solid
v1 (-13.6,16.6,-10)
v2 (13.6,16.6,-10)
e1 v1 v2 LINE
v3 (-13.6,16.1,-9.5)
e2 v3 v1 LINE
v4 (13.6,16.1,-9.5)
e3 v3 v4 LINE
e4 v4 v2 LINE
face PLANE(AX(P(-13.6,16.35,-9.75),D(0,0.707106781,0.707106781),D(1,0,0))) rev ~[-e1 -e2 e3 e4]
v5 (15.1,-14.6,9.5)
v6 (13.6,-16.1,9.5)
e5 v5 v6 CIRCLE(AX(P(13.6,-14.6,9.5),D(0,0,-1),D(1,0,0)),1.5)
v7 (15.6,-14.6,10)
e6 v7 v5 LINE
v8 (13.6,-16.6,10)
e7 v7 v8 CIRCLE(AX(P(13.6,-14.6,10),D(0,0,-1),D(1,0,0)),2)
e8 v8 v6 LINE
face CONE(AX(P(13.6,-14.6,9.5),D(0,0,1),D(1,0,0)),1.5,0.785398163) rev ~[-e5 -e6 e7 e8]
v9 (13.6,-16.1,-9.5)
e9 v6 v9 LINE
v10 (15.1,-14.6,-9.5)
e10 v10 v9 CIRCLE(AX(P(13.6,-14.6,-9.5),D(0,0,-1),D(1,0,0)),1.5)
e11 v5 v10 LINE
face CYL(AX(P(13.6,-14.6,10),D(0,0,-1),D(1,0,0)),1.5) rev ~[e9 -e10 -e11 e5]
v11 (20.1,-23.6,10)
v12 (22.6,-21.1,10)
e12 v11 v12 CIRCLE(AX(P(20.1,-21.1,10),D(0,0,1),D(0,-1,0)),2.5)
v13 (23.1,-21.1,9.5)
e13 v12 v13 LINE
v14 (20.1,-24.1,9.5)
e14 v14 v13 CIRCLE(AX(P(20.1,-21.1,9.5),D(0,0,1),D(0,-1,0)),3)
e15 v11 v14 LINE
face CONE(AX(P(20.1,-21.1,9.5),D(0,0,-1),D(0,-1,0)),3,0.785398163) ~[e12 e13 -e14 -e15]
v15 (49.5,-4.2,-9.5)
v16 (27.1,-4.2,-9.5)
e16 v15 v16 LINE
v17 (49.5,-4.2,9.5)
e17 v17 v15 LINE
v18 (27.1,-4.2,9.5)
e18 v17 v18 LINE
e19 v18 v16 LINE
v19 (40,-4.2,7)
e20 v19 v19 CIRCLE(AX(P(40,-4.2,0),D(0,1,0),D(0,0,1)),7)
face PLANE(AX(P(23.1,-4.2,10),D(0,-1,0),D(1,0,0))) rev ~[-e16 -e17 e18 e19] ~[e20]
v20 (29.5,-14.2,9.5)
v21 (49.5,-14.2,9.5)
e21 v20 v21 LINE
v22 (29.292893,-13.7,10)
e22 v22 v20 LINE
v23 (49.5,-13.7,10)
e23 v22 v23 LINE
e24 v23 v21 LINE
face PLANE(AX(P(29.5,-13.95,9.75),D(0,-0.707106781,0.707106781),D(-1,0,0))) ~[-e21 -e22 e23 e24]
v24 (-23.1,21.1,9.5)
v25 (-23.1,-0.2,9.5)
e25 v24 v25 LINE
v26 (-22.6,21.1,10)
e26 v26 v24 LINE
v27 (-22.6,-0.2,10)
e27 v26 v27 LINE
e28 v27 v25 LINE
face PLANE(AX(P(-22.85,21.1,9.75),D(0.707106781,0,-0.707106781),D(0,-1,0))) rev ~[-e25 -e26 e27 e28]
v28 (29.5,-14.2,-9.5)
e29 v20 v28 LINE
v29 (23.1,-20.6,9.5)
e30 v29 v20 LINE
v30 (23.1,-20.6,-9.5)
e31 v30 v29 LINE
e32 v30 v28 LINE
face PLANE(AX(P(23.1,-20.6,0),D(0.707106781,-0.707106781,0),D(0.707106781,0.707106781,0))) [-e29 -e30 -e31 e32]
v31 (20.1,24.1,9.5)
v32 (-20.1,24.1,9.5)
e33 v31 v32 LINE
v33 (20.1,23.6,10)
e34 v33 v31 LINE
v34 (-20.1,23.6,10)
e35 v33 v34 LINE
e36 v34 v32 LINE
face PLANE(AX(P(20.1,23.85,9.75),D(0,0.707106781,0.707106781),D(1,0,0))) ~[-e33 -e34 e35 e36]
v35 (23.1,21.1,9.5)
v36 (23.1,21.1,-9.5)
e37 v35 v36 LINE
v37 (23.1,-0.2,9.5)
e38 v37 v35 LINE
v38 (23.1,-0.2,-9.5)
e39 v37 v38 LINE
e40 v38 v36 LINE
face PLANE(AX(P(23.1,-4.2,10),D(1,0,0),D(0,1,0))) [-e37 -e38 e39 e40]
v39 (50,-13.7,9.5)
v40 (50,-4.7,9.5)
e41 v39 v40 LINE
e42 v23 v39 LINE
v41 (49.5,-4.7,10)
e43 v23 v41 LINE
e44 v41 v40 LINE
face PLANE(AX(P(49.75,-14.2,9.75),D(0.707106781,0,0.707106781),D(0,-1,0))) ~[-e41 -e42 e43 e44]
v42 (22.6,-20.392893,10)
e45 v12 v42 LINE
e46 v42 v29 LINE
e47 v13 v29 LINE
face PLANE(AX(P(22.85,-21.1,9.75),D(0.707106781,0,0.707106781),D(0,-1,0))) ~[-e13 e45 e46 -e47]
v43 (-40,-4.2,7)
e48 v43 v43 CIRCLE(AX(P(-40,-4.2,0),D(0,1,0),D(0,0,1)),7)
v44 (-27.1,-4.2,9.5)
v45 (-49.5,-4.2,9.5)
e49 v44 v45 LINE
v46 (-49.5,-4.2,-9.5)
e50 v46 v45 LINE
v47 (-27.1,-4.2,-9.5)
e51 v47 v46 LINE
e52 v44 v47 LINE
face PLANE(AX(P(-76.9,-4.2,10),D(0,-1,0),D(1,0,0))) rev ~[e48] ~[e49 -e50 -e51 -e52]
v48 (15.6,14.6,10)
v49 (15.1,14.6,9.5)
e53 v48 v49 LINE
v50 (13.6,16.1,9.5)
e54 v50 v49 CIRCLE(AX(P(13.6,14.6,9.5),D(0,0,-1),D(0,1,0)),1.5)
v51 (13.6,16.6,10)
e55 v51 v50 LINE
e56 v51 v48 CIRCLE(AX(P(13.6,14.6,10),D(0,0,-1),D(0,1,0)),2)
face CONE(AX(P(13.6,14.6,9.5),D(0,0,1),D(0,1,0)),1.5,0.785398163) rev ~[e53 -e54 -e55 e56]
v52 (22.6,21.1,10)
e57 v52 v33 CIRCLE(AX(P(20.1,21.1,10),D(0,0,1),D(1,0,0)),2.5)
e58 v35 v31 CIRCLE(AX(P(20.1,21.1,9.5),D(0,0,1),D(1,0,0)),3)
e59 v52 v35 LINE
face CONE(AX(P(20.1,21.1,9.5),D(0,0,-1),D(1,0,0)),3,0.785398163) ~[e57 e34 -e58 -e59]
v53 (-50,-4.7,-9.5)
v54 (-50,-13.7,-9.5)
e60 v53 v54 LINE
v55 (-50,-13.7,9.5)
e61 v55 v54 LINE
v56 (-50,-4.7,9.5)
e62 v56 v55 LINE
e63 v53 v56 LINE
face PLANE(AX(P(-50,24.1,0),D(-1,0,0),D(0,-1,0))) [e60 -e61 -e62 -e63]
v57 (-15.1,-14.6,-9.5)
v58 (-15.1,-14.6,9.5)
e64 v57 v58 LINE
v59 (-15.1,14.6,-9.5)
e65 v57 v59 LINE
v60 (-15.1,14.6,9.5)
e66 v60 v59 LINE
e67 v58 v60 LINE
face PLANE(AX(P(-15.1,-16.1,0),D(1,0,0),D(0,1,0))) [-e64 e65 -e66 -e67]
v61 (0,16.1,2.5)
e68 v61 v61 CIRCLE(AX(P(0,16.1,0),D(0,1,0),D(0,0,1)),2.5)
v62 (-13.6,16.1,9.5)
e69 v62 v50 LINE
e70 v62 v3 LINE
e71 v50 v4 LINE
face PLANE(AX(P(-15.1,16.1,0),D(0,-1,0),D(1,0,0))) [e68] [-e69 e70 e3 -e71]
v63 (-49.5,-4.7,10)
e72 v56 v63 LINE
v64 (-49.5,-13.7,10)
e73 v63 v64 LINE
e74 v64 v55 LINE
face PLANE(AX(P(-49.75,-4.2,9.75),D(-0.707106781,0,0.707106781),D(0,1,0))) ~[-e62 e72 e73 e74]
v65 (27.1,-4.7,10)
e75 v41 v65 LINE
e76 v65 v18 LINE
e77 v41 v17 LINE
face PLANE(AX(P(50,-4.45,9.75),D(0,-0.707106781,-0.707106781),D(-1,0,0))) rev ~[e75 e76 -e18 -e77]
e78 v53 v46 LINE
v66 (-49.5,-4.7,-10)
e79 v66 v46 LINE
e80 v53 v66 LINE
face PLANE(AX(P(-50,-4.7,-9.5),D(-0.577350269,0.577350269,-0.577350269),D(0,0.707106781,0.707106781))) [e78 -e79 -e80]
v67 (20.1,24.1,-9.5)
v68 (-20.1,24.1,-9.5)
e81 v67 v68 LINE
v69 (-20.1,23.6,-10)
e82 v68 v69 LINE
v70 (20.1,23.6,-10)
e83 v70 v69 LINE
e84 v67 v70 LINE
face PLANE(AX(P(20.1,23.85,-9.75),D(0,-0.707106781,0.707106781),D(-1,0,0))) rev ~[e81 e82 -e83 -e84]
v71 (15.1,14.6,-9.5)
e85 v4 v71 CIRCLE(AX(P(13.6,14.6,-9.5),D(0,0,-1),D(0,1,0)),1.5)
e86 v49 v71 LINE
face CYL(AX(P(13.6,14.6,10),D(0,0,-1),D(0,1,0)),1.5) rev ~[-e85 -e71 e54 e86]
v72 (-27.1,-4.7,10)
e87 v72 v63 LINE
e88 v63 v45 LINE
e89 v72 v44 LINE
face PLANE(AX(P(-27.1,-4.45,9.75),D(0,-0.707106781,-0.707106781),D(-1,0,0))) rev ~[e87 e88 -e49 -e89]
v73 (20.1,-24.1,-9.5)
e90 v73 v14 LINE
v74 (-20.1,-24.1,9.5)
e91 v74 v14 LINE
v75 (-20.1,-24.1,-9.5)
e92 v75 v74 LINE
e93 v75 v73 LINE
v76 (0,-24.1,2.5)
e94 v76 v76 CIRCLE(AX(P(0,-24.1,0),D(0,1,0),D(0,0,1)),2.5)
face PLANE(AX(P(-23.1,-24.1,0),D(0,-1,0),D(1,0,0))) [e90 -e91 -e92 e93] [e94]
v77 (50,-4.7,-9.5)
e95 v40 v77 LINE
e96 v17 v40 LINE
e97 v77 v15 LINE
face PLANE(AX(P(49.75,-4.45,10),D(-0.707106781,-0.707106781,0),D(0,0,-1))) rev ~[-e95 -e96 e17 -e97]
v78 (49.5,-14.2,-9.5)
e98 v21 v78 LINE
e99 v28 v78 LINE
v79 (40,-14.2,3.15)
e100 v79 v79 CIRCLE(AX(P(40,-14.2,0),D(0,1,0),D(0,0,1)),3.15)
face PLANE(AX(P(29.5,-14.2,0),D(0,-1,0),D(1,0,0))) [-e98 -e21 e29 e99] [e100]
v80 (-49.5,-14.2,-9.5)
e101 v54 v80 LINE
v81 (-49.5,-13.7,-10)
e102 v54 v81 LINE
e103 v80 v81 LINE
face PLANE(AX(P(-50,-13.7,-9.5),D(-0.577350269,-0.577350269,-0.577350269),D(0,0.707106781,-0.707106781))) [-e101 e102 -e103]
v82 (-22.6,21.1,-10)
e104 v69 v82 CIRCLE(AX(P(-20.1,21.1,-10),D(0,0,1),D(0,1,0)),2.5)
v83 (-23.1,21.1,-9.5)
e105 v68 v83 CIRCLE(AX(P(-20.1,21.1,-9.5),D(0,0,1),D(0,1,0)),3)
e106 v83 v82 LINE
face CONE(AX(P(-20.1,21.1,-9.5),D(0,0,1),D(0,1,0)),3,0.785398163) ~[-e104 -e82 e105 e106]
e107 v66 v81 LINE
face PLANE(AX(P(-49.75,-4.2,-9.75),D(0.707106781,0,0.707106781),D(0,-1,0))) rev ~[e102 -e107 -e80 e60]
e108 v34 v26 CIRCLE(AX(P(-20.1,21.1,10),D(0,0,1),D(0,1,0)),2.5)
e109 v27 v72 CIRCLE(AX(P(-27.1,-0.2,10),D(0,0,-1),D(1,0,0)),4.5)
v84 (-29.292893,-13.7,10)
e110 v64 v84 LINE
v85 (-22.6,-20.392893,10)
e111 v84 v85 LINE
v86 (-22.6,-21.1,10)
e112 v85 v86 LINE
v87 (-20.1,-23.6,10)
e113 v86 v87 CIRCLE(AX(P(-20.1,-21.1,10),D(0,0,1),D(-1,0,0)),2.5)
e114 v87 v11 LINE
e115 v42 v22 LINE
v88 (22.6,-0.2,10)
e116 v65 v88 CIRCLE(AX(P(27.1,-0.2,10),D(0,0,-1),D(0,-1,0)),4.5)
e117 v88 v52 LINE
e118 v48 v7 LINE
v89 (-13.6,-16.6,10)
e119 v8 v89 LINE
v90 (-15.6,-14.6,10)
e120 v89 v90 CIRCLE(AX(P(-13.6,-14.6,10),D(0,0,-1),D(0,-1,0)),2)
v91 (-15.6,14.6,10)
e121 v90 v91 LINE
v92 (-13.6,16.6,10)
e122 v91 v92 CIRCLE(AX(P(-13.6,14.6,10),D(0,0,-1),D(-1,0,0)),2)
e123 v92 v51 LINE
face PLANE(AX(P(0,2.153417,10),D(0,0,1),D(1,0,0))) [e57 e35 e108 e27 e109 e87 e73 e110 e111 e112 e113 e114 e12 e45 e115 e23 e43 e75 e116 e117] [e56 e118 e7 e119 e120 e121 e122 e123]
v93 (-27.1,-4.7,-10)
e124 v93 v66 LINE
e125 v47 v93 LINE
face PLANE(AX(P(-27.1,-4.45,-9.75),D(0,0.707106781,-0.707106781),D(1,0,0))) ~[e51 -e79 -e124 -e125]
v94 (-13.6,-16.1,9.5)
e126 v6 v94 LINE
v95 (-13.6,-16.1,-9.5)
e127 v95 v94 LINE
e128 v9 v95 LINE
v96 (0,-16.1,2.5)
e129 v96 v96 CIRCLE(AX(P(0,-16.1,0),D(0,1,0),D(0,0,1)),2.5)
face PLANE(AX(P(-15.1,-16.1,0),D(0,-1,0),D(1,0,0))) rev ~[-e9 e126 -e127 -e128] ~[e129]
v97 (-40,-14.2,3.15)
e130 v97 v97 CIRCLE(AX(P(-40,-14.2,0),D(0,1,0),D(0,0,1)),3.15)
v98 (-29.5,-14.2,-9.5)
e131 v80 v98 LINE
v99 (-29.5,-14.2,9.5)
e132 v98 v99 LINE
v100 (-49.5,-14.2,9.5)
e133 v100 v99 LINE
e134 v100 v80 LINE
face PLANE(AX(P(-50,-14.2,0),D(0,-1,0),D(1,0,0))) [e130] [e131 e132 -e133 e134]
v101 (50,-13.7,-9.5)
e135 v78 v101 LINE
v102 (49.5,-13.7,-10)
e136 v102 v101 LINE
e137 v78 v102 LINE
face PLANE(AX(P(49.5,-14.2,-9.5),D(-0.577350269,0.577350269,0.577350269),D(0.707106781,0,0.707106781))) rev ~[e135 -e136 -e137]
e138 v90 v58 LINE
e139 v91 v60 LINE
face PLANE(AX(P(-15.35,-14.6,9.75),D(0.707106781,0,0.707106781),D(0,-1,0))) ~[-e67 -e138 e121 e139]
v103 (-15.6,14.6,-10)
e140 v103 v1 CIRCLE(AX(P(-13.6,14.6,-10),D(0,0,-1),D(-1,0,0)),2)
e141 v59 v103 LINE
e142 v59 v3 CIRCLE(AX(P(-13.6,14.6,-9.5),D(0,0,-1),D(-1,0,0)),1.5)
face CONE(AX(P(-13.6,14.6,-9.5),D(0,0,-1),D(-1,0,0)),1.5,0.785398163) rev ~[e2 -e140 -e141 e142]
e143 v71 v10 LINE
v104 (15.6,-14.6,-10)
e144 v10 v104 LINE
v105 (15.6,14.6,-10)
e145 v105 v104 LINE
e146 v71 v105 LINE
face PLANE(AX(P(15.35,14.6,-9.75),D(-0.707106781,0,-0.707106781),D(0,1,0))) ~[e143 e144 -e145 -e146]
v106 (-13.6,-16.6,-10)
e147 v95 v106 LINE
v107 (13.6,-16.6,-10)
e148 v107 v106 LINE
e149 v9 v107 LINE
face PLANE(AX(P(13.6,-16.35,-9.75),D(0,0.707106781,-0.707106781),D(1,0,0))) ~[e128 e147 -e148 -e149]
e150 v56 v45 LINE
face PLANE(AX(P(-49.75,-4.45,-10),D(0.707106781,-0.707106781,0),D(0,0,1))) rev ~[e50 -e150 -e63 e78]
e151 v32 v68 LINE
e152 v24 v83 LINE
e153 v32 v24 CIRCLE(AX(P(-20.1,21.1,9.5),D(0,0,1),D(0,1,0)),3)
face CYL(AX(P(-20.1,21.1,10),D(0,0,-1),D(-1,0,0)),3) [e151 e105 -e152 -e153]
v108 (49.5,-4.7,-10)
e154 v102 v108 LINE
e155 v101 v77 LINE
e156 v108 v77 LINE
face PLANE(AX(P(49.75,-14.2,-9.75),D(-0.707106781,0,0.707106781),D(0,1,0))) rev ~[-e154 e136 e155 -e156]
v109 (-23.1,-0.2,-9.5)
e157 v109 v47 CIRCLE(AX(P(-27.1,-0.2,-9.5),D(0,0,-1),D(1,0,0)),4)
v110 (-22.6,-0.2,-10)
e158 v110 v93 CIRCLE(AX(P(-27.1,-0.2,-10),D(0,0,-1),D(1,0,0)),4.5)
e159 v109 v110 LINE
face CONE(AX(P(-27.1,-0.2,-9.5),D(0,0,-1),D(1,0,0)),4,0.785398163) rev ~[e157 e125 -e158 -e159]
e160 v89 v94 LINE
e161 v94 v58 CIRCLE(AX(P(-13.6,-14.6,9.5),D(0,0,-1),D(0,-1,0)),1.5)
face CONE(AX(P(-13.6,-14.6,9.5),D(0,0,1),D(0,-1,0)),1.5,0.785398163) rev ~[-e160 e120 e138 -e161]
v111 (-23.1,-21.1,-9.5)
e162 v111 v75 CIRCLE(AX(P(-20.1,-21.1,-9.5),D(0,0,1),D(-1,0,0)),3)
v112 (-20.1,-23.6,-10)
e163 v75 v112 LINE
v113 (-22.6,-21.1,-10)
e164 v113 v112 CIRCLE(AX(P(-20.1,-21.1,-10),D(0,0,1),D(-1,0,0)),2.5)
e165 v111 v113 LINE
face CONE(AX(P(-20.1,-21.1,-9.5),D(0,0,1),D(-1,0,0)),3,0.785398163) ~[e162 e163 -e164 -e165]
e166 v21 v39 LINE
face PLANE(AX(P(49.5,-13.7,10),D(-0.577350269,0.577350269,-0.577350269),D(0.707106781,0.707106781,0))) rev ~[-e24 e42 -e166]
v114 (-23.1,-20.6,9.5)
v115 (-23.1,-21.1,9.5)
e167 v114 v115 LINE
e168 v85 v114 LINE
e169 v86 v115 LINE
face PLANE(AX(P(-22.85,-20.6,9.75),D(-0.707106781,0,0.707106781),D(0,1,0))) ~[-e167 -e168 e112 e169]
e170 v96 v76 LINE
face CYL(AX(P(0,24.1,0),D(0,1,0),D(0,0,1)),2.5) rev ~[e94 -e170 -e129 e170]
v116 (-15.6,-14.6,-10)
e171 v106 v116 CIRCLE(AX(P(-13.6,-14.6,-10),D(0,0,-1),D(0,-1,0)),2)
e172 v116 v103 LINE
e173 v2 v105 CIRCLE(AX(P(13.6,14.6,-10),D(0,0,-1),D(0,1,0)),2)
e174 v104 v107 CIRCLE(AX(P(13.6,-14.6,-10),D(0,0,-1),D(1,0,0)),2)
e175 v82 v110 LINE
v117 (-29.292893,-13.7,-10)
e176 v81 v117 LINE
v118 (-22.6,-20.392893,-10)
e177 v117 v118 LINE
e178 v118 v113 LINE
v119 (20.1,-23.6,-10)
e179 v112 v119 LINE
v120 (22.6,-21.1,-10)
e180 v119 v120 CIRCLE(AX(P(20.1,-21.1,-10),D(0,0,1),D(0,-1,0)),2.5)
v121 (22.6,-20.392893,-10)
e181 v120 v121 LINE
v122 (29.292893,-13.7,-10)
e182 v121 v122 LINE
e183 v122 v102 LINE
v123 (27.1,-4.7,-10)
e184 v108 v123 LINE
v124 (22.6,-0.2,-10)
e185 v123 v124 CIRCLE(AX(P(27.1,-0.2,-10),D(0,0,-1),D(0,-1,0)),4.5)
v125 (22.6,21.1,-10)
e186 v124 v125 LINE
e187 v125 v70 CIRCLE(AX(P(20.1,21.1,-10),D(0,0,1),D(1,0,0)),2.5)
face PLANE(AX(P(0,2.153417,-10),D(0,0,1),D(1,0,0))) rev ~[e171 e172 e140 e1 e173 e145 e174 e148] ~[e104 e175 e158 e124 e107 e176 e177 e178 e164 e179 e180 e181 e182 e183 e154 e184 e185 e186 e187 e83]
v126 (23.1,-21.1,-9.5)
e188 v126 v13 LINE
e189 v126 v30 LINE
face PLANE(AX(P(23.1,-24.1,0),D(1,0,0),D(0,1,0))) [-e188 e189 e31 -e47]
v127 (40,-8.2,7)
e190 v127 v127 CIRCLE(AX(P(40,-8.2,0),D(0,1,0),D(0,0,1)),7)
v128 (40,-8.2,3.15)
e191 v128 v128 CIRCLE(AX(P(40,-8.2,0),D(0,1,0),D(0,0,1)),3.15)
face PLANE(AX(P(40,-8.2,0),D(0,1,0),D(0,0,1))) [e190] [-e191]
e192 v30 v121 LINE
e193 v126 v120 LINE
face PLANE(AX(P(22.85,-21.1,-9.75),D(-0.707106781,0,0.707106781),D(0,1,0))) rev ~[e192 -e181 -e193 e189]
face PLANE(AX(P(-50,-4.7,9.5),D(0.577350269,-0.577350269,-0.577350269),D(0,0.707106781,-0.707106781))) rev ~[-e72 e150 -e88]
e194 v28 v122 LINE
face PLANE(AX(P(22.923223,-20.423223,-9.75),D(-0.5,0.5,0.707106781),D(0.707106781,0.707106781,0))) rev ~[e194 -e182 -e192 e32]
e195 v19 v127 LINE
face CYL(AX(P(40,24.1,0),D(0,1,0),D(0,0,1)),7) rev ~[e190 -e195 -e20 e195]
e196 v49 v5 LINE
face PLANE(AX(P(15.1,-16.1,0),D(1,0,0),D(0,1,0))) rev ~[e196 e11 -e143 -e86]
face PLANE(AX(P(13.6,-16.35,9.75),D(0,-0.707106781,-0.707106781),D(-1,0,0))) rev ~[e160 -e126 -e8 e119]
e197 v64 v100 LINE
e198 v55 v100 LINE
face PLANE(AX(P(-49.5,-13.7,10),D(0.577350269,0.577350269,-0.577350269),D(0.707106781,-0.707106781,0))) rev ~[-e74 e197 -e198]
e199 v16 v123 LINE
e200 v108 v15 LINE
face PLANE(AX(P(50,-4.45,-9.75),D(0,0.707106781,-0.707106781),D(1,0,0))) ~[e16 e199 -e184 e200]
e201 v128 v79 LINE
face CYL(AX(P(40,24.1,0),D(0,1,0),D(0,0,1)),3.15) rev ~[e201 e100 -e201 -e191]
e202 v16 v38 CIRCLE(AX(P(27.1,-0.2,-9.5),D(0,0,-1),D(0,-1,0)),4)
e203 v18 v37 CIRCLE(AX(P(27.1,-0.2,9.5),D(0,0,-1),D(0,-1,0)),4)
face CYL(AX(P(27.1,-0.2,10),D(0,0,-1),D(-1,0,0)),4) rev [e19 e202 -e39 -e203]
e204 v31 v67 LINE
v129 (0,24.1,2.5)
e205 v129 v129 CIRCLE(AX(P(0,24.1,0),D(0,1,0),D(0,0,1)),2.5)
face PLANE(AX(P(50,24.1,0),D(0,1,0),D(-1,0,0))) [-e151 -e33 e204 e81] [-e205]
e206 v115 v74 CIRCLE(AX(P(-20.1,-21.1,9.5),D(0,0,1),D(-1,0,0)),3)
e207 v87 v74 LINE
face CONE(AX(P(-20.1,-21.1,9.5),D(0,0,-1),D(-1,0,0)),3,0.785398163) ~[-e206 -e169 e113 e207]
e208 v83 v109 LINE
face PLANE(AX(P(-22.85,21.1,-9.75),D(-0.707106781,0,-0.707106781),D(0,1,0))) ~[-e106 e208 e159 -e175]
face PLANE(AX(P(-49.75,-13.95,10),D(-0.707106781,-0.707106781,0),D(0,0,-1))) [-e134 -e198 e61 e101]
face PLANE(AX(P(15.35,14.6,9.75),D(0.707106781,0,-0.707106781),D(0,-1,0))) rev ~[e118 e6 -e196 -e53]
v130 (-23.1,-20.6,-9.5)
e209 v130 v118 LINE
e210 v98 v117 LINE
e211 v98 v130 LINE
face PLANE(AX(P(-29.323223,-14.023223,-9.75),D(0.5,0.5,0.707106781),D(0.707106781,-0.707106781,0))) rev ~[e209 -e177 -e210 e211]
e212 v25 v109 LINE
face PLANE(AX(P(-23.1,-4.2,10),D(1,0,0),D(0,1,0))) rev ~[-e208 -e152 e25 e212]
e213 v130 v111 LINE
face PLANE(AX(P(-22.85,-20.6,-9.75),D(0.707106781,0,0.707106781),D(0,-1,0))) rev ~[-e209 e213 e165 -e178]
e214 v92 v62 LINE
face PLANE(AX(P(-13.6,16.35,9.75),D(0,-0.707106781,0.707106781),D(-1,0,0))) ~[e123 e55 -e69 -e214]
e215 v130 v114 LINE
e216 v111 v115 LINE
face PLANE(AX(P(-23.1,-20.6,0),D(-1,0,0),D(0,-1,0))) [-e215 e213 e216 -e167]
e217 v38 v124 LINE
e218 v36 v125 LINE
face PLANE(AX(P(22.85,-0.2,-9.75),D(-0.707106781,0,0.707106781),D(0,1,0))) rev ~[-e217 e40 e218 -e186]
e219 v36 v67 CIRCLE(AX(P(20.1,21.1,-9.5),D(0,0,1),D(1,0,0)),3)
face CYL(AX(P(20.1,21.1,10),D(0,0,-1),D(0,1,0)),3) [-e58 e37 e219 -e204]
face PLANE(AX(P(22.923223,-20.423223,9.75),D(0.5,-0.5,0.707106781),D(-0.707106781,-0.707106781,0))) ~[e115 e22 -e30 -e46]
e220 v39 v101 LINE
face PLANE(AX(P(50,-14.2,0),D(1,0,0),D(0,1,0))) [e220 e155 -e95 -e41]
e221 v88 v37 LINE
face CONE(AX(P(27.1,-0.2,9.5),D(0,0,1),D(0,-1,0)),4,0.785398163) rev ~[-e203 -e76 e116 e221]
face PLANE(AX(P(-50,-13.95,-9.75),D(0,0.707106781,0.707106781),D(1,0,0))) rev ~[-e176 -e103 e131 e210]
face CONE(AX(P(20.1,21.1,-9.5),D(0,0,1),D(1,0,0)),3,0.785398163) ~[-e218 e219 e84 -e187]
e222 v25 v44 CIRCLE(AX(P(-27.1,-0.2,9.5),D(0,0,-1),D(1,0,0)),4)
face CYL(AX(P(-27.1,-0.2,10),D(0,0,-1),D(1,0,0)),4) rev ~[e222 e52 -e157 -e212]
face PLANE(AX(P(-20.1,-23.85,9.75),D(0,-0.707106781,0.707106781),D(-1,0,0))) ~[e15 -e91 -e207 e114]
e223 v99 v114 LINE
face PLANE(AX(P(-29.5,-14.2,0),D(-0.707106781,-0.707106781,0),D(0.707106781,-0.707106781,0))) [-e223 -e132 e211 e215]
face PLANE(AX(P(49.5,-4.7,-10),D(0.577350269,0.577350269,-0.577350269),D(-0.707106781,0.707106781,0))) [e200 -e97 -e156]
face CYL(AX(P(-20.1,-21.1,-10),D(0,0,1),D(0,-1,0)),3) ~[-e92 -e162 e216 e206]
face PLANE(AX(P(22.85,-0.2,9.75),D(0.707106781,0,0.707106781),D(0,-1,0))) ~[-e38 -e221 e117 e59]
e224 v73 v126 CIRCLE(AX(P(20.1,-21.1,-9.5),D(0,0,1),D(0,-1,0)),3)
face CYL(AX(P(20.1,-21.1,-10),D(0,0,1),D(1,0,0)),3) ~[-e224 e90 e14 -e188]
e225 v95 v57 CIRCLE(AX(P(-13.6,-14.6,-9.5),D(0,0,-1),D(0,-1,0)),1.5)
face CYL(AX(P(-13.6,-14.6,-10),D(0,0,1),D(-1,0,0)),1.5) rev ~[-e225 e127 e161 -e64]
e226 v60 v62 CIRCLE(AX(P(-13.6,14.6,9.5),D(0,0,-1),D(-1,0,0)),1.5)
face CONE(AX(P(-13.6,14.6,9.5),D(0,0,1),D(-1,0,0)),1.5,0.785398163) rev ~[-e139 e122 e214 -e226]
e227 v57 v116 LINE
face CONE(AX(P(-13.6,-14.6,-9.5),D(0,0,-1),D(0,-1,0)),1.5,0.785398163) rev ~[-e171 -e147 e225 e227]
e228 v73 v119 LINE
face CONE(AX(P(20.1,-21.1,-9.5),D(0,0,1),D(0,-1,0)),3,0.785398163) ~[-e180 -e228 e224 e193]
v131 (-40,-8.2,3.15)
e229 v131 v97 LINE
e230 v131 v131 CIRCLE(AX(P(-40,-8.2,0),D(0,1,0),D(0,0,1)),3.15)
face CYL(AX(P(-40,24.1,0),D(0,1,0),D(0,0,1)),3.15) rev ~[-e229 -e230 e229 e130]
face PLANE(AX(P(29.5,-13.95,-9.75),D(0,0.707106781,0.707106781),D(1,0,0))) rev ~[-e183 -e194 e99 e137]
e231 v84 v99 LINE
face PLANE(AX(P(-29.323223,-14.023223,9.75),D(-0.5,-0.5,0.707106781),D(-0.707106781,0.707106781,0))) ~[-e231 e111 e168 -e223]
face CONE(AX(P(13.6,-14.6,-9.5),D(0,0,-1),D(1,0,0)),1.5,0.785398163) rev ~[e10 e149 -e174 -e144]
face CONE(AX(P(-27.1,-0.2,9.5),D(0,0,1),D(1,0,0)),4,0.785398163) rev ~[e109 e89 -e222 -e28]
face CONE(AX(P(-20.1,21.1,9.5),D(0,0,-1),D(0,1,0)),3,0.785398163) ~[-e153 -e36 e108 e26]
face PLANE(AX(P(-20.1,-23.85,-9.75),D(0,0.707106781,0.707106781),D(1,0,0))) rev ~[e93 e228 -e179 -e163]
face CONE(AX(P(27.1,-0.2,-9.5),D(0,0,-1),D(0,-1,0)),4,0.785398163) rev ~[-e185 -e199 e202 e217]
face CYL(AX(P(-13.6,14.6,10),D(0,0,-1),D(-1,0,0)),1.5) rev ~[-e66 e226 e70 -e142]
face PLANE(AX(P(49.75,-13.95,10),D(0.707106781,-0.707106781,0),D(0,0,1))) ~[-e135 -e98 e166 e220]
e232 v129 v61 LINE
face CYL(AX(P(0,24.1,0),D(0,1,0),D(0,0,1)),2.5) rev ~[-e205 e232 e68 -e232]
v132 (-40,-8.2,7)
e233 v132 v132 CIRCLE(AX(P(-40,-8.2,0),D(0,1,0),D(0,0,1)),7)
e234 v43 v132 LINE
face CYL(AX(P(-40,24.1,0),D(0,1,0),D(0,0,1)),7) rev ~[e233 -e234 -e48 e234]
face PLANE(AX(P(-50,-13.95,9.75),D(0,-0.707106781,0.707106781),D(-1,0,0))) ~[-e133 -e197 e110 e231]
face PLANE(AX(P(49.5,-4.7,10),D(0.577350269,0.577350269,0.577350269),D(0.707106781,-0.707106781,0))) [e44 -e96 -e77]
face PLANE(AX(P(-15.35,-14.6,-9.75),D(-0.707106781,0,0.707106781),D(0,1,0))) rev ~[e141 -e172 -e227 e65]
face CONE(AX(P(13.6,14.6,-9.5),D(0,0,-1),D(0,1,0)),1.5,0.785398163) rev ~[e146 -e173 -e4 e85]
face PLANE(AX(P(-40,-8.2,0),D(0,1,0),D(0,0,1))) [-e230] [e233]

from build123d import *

# Parameters (mm, degrees)
SKETCH1_W           = 30.2
SKETCH1_H           = 32.2
BOSS_EXTRUDE1_DEPTH = 10
FILLET1_R           = 1.5
SKETCH3_R           = 3.15
CUT_EXTRUDE1_DEPTH  = 71.165803637
SKETCH6_W           = 53.8
SKETCH6_H           = 56.6
CUT_EXTRUDE4_DEPTH  = 59.998389809
SKETCH4_R           = 7
CUT_EXTRUDE2_DEPTH  = 32.3
FILLET2_R           = 3
FILLET3_R           = 4
CHAMFER1_SIZE       = 0.5
SKETCH5_R           = 2.5
CUT_EXTRUDE3_DEPTH  = 71.165803637


with BuildPart() as part:
    # Sketch1 → Boss-Extrude1 (new, symmetric)
    with BuildSketch(Plane.XY):
        Polygon((-50, -14.2), (-29.5, -14.2), (-23.1, -20.6), (-23.1, -24.1), (23.1, -24.1), (23.1, -20.6), (29.5, -14.2), (50, -14.2), (50, 24.1), (-50, 24.1), align=None)
        Rectangle(SKETCH1_W, SKETCH1_H, mode=Mode.SUBTRACT)
    extrude(amount=BOSS_EXTRUDE1_DEPTH, both=True)

    # Fillet1
    fillet1_edges = [part.edges().sort_by_distance(p)[0] for p in [
        (15.1, -16.1, 0),
        (15.1, 16.1, 0),
        (-15.1, 16.1, 0),
        (-15.1, -16.1, 0),
    ]]
    fillet(fillet1_edges, radius=FILLET1_R)

    # Sketch3 → Cut-Extrude1 (cut, through all)
    with BuildSketch(Plane(origin=(0, 24.1, 0), x_dir=(1, 0, 0), z_dir=(0, 1, 0))):
        with Locations(Location((-40, 0, 0), (0, 0, 270))):
            Circle(SKETCH3_R)
        with Locations(Location((40, 0, 0), (0, 0, 270))):
            Circle(SKETCH3_R)
    extrude(amount=-CUT_EXTRUDE1_DEPTH, mode=Mode.SUBTRACT)

    # Sketch6 → Cut-Extrude4 (cut, through all)
    with BuildSketch(Plane.XY.offset(10)):
        with Locations((-50, 24.1)):
            Rectangle(SKETCH6_W, SKETCH6_H)
        with Locations((50, 24.1)):
            Rectangle(SKETCH6_W, SKETCH6_H)
    extrude(amount=-CUT_EXTRUDE4_DEPTH, mode=Mode.SUBTRACT)

    # Sketch4 → Cut-Extrude2 (cut)
    with BuildSketch(Plane(origin=(0, 24.1, 0), x_dir=(1, 0, 0), z_dir=(0, 1, 0))):
        with Locations(Location((-40, 0, 0), (0, 0, 270))):
            Circle(SKETCH4_R)
        with Locations(Location((40, 0, 0), (0, 0, 270))):
            Circle(SKETCH4_R)
    extrude(amount=-CUT_EXTRUDE2_DEPTH, mode=Mode.SUBTRACT)

    # Fillet2
    fillet2_edges = [part.edges().sort_by_distance(p)[0] for p in [
        (23.1, -24.1, 0),
        (-23.1, -24.1, 0),
        (23.1, 24.1, 0),
        (-23.1, 24.1, 0),
    ]]
    fillet(fillet2_edges, radius=FILLET2_R)

    # Fillet3
    fillet3_edges = [part.edges().sort_by_distance(p)[0] for p in [
        (23.1, -4.2, 0),
        (-23.1, -4.2, 0),
    ]]
    fillet(fillet3_edges, radius=FILLET3_R)

    # Chamfer1
    chamfer1_edges = [part.edges().sort_by_distance(p)[0] for p in [
        (50, -4.2, 0),
        (50, -9.2, -10),
        (39.75, -14.2, -10),
        (26.3, -17.4, -10),
        (-23.1, -20.85, -10),
        (-26.3, -17.4, 10),
        (-26.3, -17.4, -10),
        (-39.75, -14.2, -10),
        (0, 24.1, -10),
        (0, 24.1, 10),
        (23.1, 10.45, -10),
        (23.1, -20.85, -10),
        (0, -24.1, -10),
        (-22.221320344, -23.221320344, -10),
        (22.221320344, -23.221320344, -10),
        (-22.221320344, 23.221320344, -10),
        (22.221320344, 23.221320344, -10),
        (23.1, 10.45, 10),
        (0, -24.1, 10),
        (23.1, -20.85, 10),
        (-22.221320344, -23.221320344, 10),
        (22.221320344, -23.221320344, 10),
        (-22.221320344, 23.221320344, 10),
        (22.221320344, 23.221320344, 10),
        (38.55, -4.2, -10),
        (38.55, -4.2, 10),
        (-23.1, 10.45, 10),
        (-23.1, 10.45, -10),
        (24.271572875, -3.028427125, 10),
        (-23.1, -20.85, 10),
        (24.271572875, -3.028427125, -10),
        (-24.271572875, -3.028427125, 10),
        (-24.271572875, -3.028427125, -10),
        (50, -14.2, 0),
        (-50, -14.2, 0),
        (26.3, -17.4, 10),
        (39.75, -14.2, 10),
        (50, -9.2, 10),
        (-15.1, 0, -10),
        (-15.1, 0, 10),
        (0, -16.1, -10),
        (0, -16.1, 10),
        (15.1, 0, -10),
        (15.1, 0, 10),
        (0, 16.1, -10),
        (0, 16.1, 10),
        (-14.660660172, -15.660660172, -10),
        (-14.660660172, -15.660660172, 10),
        (14.660660172, -15.660660172, -10),
        (14.660660172, -15.660660172, 10),
        (14.660660172, 15.660660172, -10),
        (14.660660172, 15.660660172, 10),
        (-14.660660172, 15.660660172, -10),
        (-14.660660172, 15.660660172, 10),
        (-50, -9.2, -10),
        (-50, -9.2, 10),
        (-38.55, -4.2, 10),
        (-39.75, -14.2, 10),
        (-50, -4.2, 0),
        (-38.55, -4.2, -10),
    ]]
    chamfer(chamfer1_edges, length=CHAMFER1_SIZE)

    # Sketch5 → Cut-Extrude3 (cut, through all)
    with BuildSketch(Plane(origin=(0, 24.1, 0), x_dir=(1, 0, 0), z_dir=(0, 1, 0))):
        with Locations(Location((0, 0, 0), (0, 0, 270))):
            Circle(SKETCH5_R)
    extrude(amount=-CUT_EXTRUDE3_DEPTH, mode=Mode.SUBTRACT)


solid = part.part
